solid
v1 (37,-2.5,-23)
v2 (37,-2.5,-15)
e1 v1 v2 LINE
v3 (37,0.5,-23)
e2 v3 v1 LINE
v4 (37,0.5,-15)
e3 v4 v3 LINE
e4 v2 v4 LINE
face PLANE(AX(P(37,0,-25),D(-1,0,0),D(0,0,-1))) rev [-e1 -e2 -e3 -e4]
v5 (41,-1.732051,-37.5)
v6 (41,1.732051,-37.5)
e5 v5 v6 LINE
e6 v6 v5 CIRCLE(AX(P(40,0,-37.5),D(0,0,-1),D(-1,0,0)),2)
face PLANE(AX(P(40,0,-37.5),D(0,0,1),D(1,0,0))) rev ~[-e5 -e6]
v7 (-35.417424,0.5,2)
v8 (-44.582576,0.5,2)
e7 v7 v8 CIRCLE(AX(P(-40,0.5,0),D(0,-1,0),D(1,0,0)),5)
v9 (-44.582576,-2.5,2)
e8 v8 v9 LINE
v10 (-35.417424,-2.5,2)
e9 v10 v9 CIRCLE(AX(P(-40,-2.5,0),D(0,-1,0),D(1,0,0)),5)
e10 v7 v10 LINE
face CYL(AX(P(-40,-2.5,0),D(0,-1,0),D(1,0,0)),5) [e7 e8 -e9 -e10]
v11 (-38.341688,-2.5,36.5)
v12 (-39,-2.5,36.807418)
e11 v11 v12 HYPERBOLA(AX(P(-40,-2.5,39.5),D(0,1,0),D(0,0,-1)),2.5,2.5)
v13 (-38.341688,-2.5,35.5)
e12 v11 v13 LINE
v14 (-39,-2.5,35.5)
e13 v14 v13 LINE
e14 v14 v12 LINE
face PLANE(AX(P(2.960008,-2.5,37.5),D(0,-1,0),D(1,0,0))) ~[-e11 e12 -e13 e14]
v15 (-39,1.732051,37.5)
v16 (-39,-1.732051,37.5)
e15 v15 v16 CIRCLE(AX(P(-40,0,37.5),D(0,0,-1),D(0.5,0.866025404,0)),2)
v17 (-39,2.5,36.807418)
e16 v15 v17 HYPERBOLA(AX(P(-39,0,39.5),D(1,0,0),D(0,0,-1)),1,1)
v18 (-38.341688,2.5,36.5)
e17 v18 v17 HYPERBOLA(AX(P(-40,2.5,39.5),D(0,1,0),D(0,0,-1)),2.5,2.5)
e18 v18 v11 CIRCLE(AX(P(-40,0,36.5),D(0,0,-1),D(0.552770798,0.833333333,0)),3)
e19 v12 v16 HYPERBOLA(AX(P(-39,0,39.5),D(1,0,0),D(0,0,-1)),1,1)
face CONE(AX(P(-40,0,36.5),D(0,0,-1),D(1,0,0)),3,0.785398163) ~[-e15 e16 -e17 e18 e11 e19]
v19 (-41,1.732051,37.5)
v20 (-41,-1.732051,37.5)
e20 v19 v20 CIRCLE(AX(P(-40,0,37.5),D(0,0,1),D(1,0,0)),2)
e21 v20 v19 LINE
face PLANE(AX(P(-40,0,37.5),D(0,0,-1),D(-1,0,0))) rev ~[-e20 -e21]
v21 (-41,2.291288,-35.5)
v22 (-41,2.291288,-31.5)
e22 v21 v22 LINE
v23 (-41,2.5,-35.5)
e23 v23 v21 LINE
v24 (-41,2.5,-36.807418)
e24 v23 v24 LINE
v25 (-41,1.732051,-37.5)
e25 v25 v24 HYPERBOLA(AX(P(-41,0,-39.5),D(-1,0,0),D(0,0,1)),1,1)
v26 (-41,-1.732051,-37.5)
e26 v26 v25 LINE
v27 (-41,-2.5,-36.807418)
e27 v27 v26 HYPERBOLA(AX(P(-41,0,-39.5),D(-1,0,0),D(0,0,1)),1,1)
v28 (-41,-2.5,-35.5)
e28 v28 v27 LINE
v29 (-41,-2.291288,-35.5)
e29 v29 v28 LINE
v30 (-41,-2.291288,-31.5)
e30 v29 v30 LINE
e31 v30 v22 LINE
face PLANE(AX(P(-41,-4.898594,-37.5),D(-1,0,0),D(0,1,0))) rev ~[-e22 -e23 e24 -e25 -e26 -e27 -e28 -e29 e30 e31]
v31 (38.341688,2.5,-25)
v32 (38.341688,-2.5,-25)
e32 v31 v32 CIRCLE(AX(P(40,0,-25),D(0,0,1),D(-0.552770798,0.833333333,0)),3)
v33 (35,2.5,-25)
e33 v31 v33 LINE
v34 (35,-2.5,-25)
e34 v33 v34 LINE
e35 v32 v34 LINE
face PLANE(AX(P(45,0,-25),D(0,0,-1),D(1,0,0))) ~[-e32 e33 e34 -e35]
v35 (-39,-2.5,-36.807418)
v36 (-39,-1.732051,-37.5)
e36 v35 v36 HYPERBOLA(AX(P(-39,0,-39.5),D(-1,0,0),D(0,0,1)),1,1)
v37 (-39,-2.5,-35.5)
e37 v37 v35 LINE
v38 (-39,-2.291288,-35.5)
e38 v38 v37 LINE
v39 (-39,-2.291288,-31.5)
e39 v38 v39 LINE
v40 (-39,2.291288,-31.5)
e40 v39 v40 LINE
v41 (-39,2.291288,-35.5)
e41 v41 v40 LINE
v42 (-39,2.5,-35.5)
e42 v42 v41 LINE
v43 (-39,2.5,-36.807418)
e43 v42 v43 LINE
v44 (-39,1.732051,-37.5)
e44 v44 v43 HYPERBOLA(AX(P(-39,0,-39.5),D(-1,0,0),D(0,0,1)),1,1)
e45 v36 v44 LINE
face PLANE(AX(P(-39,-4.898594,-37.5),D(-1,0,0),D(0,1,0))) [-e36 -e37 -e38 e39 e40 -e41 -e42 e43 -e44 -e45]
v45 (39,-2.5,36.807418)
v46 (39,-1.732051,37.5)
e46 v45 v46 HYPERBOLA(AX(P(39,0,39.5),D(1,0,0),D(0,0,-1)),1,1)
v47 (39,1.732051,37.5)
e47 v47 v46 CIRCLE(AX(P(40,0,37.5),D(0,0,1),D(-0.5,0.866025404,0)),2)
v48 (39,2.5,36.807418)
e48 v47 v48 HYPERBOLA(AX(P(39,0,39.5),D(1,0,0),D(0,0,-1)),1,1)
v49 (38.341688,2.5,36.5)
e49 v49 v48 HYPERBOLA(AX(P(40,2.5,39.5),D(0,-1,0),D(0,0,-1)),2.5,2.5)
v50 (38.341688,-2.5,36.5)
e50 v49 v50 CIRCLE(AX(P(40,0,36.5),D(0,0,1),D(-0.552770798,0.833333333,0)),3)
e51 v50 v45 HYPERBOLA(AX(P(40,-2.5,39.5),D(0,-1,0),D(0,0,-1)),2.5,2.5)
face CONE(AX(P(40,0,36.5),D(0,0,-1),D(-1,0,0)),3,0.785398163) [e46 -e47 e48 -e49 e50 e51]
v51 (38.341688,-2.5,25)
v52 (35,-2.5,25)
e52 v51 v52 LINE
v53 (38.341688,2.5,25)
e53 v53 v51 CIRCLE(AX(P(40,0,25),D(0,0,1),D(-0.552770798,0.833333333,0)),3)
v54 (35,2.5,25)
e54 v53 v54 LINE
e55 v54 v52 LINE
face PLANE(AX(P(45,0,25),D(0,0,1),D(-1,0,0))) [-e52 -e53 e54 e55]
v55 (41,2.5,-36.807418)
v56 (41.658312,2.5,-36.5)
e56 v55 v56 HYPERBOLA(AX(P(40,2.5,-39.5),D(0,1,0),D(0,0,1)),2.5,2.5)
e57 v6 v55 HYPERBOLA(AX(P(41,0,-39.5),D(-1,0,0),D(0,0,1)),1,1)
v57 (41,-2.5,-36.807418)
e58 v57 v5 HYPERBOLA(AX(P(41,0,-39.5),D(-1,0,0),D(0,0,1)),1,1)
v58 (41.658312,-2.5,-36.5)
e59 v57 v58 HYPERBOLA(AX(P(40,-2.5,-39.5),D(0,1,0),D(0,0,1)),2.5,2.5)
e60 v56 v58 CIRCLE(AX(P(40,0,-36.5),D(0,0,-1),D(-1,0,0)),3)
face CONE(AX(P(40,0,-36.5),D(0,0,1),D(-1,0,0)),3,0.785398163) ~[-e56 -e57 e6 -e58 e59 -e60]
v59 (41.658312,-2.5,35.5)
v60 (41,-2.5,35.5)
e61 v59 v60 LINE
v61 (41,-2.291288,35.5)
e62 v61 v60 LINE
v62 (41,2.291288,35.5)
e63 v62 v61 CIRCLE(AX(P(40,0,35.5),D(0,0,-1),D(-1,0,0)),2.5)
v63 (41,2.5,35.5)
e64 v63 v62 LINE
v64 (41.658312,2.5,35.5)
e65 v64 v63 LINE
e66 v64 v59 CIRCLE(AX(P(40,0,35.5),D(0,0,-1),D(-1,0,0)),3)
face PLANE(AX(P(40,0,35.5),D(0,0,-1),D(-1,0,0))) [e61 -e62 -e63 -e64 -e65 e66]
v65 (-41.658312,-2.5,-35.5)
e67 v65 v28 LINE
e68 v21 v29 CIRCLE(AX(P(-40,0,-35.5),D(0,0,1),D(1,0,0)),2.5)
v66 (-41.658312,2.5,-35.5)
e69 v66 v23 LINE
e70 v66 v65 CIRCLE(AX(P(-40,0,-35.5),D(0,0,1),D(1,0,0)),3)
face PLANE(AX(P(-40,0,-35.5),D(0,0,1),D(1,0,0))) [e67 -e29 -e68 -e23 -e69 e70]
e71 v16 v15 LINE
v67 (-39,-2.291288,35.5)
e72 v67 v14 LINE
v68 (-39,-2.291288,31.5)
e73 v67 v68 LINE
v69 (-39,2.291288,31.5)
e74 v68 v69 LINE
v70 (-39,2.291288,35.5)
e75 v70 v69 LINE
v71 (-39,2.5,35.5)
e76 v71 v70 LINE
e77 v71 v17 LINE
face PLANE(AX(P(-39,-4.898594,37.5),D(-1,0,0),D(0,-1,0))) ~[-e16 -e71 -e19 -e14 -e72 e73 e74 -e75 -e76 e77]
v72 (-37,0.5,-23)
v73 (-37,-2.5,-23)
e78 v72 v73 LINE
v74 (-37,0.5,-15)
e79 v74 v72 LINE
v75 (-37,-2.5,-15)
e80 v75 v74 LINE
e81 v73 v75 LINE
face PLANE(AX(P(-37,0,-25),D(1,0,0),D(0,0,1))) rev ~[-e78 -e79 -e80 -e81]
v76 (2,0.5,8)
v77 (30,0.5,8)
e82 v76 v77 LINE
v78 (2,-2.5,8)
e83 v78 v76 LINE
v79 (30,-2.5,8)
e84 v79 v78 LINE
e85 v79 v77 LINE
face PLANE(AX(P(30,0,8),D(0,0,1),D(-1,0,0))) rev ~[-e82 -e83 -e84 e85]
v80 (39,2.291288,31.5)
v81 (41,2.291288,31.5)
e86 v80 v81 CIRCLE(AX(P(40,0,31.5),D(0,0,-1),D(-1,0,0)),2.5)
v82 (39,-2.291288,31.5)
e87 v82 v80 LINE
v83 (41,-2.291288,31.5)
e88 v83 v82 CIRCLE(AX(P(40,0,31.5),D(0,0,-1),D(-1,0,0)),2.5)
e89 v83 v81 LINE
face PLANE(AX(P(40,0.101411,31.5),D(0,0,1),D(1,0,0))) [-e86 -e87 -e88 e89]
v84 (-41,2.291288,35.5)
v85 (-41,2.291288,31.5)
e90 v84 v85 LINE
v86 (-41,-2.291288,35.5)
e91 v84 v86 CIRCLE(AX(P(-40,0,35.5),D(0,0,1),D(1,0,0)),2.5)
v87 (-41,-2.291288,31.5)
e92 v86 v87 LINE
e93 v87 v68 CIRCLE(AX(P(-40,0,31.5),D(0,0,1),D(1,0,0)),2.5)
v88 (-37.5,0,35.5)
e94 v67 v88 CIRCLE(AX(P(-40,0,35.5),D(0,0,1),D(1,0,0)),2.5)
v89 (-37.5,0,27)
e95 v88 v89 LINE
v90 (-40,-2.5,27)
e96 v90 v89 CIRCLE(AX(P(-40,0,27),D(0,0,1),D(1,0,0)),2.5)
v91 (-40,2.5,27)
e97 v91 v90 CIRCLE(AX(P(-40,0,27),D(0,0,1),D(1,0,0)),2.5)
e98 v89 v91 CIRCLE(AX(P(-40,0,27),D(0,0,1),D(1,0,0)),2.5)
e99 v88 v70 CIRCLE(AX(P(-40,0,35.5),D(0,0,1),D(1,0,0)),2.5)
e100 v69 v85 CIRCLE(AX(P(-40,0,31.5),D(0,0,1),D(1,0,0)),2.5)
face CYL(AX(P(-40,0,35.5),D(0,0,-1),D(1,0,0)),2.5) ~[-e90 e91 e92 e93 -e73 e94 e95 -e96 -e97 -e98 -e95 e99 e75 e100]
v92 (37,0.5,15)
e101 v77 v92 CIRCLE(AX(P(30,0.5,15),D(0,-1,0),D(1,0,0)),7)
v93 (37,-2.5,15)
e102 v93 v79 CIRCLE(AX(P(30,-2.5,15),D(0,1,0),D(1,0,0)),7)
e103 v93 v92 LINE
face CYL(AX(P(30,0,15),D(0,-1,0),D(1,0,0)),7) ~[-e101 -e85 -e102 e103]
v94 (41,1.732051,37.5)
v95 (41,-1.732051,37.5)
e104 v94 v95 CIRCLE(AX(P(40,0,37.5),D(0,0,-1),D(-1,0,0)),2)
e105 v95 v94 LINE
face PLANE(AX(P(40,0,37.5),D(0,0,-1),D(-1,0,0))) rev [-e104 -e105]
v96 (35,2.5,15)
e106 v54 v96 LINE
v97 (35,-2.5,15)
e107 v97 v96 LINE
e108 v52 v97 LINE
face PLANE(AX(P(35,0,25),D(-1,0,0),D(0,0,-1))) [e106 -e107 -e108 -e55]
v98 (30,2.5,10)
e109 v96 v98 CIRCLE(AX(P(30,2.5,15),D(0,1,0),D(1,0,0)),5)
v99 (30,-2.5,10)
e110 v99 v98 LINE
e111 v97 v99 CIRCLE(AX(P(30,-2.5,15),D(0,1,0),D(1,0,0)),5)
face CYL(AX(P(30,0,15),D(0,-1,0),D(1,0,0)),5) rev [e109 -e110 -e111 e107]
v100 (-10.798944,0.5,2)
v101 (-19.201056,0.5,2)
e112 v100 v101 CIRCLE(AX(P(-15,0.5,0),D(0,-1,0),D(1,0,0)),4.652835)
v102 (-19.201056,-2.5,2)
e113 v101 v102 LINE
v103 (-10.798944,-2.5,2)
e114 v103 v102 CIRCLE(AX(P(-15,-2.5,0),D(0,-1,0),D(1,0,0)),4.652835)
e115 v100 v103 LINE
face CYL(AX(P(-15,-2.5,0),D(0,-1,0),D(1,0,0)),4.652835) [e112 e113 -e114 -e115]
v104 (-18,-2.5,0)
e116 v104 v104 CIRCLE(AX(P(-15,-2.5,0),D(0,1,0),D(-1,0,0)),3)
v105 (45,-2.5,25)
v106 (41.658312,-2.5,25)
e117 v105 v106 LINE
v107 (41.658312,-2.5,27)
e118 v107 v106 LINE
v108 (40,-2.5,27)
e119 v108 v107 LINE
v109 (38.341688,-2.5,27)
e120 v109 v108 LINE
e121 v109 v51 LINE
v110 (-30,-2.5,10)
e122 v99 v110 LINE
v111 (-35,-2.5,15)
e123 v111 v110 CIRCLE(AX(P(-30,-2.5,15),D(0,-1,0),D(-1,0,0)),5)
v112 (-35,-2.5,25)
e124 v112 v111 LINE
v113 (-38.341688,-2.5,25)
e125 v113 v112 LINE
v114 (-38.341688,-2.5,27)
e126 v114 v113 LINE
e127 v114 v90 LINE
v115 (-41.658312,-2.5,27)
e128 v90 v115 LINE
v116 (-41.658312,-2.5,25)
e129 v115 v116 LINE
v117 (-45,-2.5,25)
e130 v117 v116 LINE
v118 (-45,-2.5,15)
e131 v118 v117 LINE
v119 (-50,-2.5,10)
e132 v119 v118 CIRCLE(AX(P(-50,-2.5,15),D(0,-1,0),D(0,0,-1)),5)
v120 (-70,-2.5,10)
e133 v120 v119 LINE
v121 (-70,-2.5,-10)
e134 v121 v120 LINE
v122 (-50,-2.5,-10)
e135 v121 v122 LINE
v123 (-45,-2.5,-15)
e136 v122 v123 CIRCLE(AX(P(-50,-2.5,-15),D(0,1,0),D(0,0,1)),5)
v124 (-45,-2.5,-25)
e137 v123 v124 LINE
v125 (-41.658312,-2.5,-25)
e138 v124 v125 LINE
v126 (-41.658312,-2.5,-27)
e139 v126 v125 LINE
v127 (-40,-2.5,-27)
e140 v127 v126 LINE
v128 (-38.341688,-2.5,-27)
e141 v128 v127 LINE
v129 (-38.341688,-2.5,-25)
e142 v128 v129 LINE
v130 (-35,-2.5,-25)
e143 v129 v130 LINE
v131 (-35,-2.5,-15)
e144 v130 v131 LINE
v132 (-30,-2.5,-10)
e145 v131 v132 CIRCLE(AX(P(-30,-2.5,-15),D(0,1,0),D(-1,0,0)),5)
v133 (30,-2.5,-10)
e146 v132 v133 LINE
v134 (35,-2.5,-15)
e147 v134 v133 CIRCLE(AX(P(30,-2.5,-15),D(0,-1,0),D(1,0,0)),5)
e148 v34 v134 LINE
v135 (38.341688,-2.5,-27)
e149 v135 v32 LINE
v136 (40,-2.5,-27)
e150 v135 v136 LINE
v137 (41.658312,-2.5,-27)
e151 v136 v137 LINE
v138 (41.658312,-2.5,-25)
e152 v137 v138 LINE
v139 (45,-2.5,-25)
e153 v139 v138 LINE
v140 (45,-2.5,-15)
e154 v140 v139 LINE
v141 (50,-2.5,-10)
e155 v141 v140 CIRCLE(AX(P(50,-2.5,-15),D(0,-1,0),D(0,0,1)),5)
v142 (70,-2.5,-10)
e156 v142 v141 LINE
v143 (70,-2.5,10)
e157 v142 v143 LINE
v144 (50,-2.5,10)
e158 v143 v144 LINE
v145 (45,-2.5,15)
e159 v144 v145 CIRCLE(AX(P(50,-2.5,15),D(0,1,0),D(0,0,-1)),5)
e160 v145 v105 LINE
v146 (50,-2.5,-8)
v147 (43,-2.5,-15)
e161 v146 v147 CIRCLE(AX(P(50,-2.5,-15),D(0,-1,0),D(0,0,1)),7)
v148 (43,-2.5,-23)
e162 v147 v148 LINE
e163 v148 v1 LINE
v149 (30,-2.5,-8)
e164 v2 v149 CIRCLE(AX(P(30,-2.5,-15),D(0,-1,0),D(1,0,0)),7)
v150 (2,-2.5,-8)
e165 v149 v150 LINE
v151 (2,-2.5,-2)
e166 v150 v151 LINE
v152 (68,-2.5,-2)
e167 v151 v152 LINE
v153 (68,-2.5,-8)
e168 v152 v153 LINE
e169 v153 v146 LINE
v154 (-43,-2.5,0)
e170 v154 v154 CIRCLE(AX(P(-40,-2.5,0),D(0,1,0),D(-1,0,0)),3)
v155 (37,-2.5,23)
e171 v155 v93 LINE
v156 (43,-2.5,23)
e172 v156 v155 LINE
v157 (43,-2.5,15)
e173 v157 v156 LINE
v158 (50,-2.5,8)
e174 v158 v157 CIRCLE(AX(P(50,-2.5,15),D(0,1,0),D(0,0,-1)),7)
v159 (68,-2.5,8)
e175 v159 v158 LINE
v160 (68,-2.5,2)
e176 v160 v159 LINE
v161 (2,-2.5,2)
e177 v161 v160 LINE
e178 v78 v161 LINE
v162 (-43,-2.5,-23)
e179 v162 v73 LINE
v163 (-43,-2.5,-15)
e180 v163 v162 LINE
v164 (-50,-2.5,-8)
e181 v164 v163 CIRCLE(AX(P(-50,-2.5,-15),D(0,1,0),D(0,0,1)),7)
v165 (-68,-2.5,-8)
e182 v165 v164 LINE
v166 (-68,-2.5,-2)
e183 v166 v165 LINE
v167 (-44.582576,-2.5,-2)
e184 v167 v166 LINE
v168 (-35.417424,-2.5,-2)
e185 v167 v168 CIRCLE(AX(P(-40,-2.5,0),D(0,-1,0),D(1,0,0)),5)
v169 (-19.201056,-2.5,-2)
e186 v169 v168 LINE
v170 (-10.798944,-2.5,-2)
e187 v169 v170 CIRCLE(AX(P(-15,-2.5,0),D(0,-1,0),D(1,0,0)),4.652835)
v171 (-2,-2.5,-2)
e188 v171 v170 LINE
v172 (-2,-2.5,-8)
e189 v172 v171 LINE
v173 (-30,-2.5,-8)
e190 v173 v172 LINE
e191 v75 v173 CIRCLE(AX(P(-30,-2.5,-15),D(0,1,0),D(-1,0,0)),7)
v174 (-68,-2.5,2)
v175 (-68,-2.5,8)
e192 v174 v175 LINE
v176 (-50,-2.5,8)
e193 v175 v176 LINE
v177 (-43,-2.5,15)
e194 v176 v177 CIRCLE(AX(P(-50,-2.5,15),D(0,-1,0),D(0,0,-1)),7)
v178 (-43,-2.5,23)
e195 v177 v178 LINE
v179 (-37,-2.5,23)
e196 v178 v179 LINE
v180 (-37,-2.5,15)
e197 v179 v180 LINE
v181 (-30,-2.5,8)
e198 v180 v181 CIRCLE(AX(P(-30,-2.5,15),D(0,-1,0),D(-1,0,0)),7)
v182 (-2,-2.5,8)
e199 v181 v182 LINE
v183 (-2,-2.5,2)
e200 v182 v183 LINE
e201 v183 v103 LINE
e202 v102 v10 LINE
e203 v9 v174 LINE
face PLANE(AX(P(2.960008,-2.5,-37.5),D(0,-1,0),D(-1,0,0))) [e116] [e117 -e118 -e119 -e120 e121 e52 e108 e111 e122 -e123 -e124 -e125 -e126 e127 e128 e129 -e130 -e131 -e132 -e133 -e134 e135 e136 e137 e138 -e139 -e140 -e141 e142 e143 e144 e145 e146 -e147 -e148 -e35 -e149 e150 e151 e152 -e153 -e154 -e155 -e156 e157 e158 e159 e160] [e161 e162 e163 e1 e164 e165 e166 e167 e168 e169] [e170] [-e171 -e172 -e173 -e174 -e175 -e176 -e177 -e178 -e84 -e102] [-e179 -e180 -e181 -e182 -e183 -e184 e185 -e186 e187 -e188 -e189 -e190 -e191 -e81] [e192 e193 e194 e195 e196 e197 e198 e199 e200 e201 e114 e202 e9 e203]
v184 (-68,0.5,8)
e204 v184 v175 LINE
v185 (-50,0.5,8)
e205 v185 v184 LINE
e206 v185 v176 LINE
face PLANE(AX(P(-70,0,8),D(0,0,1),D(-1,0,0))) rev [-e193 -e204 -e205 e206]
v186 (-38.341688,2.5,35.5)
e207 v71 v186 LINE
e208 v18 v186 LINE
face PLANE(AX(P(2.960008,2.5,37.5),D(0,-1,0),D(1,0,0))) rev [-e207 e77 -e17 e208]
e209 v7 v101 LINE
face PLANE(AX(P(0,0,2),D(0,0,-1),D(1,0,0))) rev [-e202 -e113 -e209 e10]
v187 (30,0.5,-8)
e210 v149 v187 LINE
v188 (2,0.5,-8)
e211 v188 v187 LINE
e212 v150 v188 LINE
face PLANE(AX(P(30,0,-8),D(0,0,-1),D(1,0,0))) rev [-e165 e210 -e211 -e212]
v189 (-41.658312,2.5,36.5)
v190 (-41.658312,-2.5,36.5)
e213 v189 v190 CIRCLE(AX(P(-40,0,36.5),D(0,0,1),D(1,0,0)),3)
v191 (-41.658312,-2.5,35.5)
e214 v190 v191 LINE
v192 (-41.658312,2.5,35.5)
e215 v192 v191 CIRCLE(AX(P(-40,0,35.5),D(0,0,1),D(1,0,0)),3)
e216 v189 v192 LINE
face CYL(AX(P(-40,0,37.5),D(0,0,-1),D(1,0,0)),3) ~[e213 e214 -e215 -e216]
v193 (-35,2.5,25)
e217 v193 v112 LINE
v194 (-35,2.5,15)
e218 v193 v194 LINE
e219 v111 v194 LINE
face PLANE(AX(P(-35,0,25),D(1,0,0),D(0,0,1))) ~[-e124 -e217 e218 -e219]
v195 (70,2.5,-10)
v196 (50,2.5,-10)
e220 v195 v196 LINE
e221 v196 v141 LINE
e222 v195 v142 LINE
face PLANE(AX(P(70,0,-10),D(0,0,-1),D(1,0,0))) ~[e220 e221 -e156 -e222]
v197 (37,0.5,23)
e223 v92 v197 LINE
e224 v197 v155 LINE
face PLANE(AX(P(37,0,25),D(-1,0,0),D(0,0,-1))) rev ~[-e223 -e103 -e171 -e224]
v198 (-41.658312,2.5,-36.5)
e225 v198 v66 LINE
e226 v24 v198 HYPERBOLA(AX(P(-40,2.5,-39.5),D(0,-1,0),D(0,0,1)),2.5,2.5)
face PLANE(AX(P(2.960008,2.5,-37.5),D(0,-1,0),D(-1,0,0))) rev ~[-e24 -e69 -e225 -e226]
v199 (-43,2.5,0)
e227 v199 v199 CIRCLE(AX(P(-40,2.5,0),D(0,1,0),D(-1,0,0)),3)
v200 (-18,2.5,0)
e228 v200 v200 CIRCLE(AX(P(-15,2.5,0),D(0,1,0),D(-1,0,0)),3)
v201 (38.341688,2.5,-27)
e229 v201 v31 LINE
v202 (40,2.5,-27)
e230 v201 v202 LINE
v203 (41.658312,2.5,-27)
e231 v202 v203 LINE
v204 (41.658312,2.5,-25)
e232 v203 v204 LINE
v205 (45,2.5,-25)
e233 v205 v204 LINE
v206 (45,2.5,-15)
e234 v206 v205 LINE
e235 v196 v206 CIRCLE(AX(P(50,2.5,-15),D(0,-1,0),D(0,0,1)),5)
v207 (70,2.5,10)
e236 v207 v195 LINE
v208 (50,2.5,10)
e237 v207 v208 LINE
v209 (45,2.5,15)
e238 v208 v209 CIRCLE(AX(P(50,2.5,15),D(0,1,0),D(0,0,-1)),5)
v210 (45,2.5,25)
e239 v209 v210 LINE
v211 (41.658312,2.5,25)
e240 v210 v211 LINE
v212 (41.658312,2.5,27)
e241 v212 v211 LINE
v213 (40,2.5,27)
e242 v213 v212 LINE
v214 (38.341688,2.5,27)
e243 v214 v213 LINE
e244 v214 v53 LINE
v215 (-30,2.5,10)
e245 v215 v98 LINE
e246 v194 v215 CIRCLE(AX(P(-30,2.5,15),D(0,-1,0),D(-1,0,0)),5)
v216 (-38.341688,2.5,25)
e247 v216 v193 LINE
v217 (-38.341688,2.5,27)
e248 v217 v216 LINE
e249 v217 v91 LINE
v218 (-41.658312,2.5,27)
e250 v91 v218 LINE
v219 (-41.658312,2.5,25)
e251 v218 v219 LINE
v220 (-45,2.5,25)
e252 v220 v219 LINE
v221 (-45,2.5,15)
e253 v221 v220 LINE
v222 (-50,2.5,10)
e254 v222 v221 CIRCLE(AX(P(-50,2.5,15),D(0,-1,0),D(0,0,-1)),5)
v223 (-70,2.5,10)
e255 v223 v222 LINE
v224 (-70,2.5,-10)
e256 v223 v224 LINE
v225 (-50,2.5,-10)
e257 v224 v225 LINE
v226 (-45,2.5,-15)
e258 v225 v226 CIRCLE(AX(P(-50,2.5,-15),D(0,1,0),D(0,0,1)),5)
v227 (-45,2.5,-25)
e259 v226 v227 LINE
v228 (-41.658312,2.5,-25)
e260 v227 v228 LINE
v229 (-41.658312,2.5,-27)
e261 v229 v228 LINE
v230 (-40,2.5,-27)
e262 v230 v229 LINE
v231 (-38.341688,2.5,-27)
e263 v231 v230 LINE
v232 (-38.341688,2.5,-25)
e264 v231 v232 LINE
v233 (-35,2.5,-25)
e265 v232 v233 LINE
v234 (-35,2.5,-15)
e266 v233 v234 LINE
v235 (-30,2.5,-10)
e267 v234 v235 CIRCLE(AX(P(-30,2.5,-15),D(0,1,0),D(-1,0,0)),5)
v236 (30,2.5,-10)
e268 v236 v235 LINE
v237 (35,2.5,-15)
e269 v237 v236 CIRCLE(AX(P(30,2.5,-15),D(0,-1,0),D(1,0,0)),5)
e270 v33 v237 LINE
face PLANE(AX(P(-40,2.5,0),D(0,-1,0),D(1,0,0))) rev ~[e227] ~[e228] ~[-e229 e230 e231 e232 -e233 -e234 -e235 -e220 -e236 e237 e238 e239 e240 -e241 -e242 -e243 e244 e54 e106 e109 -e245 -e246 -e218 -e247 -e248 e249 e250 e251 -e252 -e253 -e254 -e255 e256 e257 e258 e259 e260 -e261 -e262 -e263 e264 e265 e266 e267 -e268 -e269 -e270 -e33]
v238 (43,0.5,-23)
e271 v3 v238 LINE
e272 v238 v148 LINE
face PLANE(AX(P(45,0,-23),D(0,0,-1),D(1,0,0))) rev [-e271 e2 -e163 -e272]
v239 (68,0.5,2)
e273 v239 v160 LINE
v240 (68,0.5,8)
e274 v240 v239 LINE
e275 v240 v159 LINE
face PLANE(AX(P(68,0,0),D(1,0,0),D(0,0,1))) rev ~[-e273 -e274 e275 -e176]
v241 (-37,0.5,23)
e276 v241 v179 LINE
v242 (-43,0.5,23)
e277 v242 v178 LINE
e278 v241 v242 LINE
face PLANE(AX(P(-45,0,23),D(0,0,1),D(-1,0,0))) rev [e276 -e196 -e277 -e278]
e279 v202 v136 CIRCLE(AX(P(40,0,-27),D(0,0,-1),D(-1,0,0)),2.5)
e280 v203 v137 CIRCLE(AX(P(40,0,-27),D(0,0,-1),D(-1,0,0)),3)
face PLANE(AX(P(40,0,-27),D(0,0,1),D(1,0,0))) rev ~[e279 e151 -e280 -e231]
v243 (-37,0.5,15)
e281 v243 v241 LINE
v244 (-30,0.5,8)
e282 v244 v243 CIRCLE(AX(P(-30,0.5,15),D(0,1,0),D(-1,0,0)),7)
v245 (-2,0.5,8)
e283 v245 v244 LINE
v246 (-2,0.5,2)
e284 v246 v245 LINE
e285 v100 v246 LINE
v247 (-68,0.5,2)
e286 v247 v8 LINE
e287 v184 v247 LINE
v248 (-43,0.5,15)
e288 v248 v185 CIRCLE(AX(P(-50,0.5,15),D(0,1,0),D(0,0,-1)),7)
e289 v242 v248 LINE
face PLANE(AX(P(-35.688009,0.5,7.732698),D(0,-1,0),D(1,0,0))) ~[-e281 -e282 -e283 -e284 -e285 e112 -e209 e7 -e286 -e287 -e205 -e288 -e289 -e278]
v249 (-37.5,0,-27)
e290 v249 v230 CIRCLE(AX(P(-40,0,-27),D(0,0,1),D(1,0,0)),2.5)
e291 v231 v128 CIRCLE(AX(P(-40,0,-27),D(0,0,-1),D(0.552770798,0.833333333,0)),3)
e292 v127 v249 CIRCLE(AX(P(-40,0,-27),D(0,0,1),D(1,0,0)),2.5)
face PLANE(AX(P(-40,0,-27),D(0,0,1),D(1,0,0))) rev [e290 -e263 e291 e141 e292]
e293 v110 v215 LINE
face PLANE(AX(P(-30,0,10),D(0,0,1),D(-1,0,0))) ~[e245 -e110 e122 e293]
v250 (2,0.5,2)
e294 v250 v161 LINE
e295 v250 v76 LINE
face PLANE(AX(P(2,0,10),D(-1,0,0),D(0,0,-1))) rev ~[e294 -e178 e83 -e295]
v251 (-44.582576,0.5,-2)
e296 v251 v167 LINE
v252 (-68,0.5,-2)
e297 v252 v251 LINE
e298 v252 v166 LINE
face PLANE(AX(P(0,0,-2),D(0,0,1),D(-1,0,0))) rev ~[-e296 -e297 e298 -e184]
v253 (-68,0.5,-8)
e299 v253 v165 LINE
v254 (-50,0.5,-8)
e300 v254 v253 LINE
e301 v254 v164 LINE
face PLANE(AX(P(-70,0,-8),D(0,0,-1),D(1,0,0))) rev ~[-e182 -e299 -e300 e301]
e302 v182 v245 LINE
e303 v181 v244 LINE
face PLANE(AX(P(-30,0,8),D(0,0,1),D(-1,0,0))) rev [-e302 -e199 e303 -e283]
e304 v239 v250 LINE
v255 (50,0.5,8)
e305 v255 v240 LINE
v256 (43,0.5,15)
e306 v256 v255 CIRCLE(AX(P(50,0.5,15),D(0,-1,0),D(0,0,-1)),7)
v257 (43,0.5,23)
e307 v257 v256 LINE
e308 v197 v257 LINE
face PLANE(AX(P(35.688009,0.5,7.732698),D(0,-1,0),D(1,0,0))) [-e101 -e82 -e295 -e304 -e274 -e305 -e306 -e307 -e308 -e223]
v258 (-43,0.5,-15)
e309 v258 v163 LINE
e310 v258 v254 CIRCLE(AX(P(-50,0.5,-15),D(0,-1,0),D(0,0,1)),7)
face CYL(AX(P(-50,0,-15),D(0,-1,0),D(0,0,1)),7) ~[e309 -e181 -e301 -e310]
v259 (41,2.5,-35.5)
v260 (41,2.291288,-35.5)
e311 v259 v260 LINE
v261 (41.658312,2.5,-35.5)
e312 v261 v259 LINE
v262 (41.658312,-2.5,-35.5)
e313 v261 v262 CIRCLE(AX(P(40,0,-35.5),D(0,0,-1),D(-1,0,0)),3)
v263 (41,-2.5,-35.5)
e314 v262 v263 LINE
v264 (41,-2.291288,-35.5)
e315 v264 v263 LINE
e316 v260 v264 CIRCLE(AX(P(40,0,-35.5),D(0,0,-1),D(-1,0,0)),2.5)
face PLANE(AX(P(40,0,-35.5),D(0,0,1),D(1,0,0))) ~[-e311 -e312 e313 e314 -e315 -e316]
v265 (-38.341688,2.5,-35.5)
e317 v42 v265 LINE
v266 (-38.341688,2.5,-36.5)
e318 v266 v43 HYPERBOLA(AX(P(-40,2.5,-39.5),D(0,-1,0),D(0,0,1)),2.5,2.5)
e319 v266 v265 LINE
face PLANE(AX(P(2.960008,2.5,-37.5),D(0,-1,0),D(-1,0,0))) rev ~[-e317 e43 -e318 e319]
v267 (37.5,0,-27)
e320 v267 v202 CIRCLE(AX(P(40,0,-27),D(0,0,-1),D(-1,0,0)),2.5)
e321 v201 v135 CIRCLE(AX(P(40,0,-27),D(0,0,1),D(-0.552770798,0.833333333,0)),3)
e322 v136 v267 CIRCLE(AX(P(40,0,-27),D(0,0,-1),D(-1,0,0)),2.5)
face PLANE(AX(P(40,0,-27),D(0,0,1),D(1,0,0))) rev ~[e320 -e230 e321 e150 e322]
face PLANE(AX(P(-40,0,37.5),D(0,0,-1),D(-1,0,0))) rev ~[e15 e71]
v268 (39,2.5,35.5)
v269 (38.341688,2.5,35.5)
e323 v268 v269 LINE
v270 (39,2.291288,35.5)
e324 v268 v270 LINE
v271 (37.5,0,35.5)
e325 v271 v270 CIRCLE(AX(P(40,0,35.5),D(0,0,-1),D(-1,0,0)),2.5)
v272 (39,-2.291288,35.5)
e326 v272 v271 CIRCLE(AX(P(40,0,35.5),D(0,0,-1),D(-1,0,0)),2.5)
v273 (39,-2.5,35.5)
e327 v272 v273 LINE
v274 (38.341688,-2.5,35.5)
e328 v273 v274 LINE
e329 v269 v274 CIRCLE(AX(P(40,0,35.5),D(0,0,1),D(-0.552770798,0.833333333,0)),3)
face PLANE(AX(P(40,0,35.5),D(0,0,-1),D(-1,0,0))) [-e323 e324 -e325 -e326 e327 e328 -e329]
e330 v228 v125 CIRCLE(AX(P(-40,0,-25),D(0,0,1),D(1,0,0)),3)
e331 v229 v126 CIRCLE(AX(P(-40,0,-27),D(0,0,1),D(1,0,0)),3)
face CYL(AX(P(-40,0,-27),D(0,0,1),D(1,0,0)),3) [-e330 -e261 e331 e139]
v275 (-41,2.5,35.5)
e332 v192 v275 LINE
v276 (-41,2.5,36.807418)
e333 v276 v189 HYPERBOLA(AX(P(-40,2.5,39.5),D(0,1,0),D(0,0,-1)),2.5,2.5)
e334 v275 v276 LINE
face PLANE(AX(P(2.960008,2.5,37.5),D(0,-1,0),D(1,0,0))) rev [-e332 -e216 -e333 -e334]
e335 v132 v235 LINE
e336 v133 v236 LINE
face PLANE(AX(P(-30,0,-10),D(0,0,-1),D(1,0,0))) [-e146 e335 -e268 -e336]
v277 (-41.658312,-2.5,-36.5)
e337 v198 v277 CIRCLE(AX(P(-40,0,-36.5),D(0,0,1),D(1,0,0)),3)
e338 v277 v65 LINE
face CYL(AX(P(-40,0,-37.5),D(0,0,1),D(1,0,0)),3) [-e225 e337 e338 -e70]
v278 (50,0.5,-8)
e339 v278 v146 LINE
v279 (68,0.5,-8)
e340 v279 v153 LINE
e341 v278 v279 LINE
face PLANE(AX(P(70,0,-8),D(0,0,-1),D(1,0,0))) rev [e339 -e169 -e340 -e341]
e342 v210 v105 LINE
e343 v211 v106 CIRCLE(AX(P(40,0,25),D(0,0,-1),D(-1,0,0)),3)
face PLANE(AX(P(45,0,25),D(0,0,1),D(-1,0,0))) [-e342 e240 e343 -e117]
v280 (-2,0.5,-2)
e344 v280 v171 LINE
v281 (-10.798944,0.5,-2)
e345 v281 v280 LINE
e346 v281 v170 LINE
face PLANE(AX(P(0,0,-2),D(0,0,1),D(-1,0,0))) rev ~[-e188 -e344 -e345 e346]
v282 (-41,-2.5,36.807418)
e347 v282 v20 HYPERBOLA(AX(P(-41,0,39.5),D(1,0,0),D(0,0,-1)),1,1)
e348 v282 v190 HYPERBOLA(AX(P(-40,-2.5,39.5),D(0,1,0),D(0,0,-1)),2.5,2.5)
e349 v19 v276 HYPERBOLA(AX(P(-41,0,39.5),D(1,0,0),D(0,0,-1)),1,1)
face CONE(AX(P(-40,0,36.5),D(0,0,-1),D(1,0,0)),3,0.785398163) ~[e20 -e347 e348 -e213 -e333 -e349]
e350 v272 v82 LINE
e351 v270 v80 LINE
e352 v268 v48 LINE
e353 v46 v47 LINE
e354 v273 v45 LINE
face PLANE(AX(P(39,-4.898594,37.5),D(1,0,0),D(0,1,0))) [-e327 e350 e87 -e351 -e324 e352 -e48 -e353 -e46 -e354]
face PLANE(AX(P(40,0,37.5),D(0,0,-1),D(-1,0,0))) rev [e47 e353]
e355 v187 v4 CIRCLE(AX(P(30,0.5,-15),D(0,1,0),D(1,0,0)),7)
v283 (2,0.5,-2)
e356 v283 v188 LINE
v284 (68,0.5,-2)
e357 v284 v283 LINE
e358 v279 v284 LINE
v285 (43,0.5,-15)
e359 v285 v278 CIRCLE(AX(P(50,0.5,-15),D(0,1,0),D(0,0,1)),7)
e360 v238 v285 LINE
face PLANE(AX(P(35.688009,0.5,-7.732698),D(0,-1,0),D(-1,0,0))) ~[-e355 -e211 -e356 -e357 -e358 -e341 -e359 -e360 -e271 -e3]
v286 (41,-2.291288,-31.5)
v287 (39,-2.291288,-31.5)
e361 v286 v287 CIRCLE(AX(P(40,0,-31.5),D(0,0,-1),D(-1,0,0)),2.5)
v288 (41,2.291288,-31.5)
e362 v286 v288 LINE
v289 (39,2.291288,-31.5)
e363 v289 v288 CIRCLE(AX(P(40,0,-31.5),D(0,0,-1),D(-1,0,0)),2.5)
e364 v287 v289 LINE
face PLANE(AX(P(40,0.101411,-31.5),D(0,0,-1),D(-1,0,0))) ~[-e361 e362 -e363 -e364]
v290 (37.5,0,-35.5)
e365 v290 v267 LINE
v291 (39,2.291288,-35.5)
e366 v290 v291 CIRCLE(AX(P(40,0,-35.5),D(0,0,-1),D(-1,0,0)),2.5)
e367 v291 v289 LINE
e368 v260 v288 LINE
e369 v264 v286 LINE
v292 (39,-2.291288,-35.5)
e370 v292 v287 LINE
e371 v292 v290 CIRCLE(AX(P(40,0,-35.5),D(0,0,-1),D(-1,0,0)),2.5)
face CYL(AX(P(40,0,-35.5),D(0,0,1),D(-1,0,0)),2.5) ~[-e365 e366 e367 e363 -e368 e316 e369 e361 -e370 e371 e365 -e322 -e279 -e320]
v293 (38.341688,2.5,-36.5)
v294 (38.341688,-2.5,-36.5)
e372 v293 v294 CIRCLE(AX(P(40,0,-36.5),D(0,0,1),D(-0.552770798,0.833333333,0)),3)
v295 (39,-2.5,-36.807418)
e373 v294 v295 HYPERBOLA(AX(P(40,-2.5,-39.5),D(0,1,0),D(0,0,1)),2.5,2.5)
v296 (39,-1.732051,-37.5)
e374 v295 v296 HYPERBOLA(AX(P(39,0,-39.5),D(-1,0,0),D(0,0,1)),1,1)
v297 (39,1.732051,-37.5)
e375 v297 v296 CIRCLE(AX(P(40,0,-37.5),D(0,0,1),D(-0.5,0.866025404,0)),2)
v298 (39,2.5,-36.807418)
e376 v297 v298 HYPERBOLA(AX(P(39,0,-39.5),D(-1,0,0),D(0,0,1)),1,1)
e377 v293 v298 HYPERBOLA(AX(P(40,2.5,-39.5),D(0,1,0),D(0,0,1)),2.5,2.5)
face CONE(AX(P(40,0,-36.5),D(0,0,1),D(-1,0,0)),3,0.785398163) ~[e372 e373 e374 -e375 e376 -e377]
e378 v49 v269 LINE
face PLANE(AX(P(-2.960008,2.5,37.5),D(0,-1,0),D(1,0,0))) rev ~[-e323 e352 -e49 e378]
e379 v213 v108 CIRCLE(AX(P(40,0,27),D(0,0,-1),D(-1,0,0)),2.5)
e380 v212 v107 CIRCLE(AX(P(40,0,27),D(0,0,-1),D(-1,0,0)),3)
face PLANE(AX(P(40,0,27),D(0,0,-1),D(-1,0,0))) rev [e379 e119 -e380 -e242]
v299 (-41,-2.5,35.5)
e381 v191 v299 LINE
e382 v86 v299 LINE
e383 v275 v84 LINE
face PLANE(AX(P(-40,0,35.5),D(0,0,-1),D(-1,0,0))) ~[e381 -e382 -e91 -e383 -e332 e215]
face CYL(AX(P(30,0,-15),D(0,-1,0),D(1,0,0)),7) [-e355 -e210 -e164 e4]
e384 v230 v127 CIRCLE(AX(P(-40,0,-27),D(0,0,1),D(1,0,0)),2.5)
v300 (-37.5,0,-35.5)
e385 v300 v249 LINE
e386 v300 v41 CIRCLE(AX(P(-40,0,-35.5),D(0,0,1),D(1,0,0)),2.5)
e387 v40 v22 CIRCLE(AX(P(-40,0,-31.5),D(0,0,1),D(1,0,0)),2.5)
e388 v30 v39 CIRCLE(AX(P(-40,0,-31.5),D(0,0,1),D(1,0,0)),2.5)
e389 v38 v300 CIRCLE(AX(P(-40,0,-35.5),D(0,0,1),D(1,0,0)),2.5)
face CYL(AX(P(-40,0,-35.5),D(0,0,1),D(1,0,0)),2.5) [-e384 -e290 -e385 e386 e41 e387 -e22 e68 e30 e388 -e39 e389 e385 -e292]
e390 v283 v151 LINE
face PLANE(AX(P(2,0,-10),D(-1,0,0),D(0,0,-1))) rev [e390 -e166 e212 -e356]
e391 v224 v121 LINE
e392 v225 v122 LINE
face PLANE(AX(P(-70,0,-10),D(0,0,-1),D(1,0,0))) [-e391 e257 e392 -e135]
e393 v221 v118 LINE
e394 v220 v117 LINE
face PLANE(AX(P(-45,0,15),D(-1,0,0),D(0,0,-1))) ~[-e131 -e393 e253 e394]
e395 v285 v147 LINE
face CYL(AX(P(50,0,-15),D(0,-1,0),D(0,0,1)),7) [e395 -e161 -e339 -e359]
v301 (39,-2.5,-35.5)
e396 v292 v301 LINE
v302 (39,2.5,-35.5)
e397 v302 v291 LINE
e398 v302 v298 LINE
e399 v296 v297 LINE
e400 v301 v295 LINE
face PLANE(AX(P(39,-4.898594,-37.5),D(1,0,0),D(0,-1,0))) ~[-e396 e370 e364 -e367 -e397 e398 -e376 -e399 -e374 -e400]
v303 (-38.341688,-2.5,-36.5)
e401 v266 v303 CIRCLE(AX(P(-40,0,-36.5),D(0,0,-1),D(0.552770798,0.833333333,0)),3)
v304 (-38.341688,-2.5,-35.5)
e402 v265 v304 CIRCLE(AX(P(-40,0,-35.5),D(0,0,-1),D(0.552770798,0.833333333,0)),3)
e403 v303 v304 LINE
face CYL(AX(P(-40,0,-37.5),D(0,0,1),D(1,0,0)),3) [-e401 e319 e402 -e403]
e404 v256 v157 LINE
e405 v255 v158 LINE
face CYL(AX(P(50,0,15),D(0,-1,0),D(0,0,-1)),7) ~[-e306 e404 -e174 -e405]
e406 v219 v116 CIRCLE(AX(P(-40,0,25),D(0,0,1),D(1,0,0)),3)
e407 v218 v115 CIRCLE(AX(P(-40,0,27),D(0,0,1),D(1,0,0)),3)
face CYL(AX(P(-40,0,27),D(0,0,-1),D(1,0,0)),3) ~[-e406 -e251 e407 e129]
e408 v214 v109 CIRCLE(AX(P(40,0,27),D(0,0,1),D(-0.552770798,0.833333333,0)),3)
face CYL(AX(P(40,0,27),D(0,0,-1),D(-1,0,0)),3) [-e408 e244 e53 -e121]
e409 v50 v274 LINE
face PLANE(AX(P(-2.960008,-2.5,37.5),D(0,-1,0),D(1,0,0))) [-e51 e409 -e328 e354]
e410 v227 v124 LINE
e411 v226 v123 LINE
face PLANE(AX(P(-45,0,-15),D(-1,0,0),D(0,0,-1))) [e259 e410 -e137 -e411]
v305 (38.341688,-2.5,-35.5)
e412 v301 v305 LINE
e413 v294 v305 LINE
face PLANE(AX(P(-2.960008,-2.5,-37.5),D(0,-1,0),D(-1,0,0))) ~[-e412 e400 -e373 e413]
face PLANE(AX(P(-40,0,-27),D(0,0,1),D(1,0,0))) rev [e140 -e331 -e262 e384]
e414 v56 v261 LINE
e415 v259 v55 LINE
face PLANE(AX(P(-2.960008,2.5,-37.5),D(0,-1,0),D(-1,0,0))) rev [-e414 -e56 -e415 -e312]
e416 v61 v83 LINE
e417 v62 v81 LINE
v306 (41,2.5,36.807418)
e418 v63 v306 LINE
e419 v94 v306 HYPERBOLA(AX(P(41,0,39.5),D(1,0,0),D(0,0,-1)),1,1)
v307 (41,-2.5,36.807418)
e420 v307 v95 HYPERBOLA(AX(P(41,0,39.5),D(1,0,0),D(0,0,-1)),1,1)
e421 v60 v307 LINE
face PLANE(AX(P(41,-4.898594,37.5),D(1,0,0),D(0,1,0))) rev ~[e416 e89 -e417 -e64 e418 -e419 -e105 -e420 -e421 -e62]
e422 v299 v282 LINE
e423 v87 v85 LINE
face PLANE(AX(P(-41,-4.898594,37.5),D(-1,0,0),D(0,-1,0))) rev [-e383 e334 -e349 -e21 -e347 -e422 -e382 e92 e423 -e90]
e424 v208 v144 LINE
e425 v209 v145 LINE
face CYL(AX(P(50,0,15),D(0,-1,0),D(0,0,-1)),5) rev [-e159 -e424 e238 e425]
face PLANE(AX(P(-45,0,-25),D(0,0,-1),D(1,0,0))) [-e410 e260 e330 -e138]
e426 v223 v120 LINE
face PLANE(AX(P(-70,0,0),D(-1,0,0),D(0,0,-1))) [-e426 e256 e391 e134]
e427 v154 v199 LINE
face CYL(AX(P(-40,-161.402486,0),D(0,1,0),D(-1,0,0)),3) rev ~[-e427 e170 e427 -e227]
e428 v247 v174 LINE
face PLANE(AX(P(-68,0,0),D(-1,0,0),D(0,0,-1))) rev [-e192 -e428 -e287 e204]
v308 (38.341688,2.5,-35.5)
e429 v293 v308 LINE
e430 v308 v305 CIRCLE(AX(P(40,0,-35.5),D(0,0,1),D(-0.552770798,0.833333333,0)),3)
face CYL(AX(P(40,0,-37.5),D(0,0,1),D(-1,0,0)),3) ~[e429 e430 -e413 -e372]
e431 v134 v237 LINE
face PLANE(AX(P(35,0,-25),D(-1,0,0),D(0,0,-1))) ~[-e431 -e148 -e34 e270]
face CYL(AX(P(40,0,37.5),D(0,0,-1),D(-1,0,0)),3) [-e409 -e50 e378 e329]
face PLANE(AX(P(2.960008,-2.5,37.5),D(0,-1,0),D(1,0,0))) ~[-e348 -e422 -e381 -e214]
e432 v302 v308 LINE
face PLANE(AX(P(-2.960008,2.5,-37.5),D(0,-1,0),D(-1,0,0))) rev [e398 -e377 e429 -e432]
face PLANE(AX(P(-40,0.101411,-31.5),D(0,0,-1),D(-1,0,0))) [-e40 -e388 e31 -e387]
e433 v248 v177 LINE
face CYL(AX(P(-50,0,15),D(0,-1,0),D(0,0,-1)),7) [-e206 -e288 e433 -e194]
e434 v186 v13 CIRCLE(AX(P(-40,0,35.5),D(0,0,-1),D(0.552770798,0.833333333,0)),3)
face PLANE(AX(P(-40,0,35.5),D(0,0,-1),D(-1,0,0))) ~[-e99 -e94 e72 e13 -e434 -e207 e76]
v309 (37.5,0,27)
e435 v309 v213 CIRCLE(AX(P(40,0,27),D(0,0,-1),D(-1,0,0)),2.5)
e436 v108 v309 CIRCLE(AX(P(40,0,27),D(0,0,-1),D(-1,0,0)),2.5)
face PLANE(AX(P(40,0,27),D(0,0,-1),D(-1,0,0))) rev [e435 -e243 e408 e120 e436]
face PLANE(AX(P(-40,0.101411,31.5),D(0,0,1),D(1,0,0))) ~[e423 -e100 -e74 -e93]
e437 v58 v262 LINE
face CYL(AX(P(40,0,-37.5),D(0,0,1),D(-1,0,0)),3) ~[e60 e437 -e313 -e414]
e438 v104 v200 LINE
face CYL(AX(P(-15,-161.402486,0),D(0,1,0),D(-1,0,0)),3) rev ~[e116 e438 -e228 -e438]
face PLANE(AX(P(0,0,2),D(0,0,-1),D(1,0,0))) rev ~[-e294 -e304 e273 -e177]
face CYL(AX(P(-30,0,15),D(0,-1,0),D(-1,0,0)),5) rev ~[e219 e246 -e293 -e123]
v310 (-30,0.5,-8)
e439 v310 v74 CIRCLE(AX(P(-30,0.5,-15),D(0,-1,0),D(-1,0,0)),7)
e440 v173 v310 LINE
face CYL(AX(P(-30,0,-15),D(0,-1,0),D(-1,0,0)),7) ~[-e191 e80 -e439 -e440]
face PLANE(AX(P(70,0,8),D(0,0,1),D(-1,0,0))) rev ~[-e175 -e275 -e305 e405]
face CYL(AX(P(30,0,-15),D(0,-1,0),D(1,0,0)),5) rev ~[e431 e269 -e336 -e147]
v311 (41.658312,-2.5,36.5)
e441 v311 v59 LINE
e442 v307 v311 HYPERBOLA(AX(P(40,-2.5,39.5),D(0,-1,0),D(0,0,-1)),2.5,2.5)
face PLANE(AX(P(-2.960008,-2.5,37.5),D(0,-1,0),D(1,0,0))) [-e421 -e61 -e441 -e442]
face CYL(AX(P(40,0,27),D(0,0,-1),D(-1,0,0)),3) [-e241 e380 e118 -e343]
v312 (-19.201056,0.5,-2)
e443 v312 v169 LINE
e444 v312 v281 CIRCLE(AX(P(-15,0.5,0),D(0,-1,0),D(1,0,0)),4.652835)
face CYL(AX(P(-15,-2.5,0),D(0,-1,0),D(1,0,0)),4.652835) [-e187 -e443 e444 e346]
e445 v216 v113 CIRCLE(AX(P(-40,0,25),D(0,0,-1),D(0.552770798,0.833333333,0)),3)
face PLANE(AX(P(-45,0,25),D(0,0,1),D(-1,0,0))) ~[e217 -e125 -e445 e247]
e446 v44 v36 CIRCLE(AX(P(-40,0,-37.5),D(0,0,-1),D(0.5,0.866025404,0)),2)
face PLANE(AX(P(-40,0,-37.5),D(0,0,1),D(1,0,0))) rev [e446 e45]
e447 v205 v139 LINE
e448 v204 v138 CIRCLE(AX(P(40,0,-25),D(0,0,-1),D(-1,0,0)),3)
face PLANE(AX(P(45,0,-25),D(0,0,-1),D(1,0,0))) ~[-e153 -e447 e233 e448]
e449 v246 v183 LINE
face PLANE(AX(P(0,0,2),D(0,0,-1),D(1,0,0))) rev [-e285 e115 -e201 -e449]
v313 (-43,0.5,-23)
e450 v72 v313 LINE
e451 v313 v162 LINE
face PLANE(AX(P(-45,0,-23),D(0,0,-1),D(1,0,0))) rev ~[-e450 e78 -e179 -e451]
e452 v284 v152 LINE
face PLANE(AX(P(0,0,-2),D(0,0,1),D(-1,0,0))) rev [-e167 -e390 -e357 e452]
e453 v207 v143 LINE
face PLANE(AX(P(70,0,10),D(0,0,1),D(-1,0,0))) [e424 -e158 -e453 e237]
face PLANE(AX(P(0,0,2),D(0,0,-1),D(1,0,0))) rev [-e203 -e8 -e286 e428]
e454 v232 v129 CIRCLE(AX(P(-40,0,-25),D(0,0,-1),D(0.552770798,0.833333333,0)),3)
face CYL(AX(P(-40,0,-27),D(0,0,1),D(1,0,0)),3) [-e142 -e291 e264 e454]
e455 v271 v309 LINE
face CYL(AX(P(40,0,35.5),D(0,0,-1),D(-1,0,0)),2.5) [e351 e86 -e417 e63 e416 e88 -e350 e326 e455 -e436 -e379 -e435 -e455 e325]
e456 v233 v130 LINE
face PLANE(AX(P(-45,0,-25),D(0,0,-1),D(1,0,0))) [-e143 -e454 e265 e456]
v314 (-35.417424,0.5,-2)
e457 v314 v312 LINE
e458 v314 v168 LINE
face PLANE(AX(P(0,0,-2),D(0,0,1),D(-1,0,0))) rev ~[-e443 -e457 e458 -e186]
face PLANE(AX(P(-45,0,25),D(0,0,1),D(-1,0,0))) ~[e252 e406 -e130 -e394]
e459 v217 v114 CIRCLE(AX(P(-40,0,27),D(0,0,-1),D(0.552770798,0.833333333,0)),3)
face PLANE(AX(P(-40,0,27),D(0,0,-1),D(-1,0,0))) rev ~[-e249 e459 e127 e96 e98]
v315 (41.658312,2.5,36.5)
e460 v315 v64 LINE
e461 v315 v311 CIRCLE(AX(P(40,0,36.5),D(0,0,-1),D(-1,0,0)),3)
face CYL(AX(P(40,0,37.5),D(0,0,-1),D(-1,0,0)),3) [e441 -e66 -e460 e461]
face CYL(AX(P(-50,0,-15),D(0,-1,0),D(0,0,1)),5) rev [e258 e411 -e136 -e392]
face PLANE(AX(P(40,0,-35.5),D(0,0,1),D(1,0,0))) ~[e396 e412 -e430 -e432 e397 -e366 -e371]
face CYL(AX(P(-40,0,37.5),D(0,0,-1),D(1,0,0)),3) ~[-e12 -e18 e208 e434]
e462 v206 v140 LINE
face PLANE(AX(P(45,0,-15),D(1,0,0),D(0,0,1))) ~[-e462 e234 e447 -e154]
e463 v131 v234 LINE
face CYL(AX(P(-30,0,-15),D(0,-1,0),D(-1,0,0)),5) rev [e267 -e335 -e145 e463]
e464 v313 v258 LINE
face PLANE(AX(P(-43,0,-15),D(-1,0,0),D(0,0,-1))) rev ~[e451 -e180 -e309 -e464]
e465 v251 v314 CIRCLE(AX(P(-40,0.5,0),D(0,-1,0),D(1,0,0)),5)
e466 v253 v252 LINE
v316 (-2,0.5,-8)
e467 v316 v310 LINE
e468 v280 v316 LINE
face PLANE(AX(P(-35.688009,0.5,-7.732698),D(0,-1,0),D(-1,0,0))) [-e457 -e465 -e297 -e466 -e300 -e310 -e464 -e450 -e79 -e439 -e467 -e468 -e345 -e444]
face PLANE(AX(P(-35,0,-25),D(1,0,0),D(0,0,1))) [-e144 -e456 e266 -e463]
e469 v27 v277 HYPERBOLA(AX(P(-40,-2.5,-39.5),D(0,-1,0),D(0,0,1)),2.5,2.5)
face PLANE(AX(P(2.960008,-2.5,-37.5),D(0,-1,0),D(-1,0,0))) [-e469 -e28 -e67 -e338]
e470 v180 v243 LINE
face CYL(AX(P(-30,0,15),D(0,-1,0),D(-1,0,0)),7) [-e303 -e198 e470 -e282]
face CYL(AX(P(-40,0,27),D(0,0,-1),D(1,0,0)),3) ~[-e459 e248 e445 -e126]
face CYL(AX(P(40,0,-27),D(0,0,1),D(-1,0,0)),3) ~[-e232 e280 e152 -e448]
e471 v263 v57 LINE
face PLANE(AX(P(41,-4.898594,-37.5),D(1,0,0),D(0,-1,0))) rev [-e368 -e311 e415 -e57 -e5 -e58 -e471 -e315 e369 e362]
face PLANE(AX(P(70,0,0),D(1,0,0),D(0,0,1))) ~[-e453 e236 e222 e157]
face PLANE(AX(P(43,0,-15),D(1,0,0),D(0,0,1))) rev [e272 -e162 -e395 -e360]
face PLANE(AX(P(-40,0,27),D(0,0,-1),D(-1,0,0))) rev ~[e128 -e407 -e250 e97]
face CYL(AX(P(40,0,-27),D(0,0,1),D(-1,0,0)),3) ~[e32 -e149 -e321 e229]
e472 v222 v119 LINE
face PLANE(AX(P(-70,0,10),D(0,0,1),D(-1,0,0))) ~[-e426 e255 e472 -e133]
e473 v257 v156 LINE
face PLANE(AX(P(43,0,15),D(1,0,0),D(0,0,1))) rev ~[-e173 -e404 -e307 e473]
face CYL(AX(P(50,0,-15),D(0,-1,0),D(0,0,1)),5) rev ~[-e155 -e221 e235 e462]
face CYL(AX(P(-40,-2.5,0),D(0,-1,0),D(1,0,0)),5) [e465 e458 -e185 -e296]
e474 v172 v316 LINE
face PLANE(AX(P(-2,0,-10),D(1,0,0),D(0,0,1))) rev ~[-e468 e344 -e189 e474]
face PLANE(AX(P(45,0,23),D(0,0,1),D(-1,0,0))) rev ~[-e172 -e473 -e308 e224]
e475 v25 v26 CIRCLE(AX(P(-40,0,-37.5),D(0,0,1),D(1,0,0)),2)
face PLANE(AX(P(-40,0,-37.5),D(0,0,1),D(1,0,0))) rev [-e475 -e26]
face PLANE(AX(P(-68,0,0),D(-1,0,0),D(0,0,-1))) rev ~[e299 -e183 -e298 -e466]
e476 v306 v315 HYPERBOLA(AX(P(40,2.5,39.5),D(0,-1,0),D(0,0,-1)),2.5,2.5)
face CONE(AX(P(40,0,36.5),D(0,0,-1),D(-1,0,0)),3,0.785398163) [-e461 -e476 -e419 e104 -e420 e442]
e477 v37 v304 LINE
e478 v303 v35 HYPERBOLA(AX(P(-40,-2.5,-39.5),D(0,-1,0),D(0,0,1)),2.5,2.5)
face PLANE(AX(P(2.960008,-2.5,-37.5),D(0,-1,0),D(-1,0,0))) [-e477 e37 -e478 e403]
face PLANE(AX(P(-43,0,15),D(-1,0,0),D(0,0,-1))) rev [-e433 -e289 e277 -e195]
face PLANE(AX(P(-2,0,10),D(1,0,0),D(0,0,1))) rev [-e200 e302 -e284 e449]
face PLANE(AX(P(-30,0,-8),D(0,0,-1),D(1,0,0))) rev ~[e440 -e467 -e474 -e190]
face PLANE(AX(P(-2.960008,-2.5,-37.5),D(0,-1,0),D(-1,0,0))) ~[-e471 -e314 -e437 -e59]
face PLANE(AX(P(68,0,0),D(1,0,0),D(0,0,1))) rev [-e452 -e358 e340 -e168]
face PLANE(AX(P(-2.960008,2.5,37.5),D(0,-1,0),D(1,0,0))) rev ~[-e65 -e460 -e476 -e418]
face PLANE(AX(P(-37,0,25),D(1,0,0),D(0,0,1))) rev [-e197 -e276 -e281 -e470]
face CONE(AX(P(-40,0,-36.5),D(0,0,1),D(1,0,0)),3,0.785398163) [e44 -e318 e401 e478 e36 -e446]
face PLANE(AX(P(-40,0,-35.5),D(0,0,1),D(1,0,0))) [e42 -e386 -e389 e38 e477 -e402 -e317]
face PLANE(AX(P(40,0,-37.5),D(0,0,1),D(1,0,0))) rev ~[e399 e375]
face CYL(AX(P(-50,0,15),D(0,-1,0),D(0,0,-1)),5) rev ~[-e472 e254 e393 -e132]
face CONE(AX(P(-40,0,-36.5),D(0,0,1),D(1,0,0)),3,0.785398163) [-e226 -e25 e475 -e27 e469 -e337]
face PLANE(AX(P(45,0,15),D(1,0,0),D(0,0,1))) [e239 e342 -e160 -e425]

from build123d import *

# Parameters (mm, degrees)
F1_DEPTH  = 2.5
F2_T      = -2
F5_SIZE   = 1
F6_W      = 75.1674278747
F6_H      = 5
F7_DEPTH  = 37.501
F8_W      = 2
F8_H      = 10.0000095664
F9_DEPTH  = 6
F12_R     = 5
F12_R_2   = 4.6528346036
F13_DEPTH = 5
F15_D     = 6


with BuildPart() as f1:
    # F0 (on Front) → F1 (new body, symmetric)
    with BuildSketch(Plane.XZ):
        with BuildLine():
            Line((0, 10), (0, 0))
            Line((0, 0), (70, 0))
            Line((70, 0), (70, 10))
            Line((70, 10), (50, 10))
            ThreePointArc((50, 10), (46.4644660941, 11.4644660941), (45, 15))
            Line((45, 15), (45, 25))
            Line((45, 25), (35, 25))
            Line((35, 25), (35, 15))
            ThreePointArc((35, 15), (33.5355339059, 11.4644660941), (30, 10))
            Line((30, 10), (0, 10))
        make_face()
    extrude(amount=F1_DEPTH, both=True)

    # F2
    f2_openings = [f1.faces().sort_by_distance(p)[0] for p in [
        (35.933685, -2.5, 7.254637),
    ]]
    offset(amount=F2_T, openings=f2_openings)

    # F3 (on Front) → F4 (revolve)
    with BuildSketch(Plane.XZ):
        Polygon((40, 37.5), (37, 37.5), (37, 35.5), (37.5, 35.5), (37.5, 27), (37, 27), (37, 25), (40, 25), align=None)
    revolve(axis=Axis((40, 0, 31.25), (0, 0, -1)))

    # F5
    f5_edges = [f1.edges().sort_by_distance(p)[0] for p in [
        (43, 0, 37.5),
    ]]
    chamfer(f5_edges, length=F5_SIZE)

    # F6 (on face) → F7 (intersect, through all)
    with BuildSketch(Plane.XY.offset(37.5)):
        with Locations((34.6237062477, 0)):
            Rectangle(F6_W, F6_H)
    extrude(amount=-F7_DEPTH, mode=Mode.INTERSECT)

    # F8 (on face) → F9 (cut)
    with BuildSketch(Plane.XY.offset(37.5)):
        with Locations((40, 0.1014110167)):
            Rectangle(F8_W, F8_H)
    extrude(amount=-F9_DEPTH, mode=Mode.SUBTRACT)

    # F10: F1 across plane


with BuildPart() as f1_1:
    add(f1.part)
    add(f1.part.mirror(Plane.XY))

    # F11: F1 across plane


with BuildPart() as f1_2:
    add(f1_1.part)
    add(f1_1.part.mirror(Plane.YZ))

    # F12 (on face) → F13 (join, through all)
    with BuildSketch(Plane.XZ.offset(2.5)):
        with Locations((-40, 0)):
            Circle(F12_R)
        with Locations((-15, 0)):
            Circle(F12_R_2)
    extrude(amount=-F13_DEPTH)

    # F15 (through all)
    with Locations(Plane.XZ.offset(2.5)):
        with Locations((-40, 0), (-15, 0)):
            Hole(F15_D / 2)


solid = f1_2.part
